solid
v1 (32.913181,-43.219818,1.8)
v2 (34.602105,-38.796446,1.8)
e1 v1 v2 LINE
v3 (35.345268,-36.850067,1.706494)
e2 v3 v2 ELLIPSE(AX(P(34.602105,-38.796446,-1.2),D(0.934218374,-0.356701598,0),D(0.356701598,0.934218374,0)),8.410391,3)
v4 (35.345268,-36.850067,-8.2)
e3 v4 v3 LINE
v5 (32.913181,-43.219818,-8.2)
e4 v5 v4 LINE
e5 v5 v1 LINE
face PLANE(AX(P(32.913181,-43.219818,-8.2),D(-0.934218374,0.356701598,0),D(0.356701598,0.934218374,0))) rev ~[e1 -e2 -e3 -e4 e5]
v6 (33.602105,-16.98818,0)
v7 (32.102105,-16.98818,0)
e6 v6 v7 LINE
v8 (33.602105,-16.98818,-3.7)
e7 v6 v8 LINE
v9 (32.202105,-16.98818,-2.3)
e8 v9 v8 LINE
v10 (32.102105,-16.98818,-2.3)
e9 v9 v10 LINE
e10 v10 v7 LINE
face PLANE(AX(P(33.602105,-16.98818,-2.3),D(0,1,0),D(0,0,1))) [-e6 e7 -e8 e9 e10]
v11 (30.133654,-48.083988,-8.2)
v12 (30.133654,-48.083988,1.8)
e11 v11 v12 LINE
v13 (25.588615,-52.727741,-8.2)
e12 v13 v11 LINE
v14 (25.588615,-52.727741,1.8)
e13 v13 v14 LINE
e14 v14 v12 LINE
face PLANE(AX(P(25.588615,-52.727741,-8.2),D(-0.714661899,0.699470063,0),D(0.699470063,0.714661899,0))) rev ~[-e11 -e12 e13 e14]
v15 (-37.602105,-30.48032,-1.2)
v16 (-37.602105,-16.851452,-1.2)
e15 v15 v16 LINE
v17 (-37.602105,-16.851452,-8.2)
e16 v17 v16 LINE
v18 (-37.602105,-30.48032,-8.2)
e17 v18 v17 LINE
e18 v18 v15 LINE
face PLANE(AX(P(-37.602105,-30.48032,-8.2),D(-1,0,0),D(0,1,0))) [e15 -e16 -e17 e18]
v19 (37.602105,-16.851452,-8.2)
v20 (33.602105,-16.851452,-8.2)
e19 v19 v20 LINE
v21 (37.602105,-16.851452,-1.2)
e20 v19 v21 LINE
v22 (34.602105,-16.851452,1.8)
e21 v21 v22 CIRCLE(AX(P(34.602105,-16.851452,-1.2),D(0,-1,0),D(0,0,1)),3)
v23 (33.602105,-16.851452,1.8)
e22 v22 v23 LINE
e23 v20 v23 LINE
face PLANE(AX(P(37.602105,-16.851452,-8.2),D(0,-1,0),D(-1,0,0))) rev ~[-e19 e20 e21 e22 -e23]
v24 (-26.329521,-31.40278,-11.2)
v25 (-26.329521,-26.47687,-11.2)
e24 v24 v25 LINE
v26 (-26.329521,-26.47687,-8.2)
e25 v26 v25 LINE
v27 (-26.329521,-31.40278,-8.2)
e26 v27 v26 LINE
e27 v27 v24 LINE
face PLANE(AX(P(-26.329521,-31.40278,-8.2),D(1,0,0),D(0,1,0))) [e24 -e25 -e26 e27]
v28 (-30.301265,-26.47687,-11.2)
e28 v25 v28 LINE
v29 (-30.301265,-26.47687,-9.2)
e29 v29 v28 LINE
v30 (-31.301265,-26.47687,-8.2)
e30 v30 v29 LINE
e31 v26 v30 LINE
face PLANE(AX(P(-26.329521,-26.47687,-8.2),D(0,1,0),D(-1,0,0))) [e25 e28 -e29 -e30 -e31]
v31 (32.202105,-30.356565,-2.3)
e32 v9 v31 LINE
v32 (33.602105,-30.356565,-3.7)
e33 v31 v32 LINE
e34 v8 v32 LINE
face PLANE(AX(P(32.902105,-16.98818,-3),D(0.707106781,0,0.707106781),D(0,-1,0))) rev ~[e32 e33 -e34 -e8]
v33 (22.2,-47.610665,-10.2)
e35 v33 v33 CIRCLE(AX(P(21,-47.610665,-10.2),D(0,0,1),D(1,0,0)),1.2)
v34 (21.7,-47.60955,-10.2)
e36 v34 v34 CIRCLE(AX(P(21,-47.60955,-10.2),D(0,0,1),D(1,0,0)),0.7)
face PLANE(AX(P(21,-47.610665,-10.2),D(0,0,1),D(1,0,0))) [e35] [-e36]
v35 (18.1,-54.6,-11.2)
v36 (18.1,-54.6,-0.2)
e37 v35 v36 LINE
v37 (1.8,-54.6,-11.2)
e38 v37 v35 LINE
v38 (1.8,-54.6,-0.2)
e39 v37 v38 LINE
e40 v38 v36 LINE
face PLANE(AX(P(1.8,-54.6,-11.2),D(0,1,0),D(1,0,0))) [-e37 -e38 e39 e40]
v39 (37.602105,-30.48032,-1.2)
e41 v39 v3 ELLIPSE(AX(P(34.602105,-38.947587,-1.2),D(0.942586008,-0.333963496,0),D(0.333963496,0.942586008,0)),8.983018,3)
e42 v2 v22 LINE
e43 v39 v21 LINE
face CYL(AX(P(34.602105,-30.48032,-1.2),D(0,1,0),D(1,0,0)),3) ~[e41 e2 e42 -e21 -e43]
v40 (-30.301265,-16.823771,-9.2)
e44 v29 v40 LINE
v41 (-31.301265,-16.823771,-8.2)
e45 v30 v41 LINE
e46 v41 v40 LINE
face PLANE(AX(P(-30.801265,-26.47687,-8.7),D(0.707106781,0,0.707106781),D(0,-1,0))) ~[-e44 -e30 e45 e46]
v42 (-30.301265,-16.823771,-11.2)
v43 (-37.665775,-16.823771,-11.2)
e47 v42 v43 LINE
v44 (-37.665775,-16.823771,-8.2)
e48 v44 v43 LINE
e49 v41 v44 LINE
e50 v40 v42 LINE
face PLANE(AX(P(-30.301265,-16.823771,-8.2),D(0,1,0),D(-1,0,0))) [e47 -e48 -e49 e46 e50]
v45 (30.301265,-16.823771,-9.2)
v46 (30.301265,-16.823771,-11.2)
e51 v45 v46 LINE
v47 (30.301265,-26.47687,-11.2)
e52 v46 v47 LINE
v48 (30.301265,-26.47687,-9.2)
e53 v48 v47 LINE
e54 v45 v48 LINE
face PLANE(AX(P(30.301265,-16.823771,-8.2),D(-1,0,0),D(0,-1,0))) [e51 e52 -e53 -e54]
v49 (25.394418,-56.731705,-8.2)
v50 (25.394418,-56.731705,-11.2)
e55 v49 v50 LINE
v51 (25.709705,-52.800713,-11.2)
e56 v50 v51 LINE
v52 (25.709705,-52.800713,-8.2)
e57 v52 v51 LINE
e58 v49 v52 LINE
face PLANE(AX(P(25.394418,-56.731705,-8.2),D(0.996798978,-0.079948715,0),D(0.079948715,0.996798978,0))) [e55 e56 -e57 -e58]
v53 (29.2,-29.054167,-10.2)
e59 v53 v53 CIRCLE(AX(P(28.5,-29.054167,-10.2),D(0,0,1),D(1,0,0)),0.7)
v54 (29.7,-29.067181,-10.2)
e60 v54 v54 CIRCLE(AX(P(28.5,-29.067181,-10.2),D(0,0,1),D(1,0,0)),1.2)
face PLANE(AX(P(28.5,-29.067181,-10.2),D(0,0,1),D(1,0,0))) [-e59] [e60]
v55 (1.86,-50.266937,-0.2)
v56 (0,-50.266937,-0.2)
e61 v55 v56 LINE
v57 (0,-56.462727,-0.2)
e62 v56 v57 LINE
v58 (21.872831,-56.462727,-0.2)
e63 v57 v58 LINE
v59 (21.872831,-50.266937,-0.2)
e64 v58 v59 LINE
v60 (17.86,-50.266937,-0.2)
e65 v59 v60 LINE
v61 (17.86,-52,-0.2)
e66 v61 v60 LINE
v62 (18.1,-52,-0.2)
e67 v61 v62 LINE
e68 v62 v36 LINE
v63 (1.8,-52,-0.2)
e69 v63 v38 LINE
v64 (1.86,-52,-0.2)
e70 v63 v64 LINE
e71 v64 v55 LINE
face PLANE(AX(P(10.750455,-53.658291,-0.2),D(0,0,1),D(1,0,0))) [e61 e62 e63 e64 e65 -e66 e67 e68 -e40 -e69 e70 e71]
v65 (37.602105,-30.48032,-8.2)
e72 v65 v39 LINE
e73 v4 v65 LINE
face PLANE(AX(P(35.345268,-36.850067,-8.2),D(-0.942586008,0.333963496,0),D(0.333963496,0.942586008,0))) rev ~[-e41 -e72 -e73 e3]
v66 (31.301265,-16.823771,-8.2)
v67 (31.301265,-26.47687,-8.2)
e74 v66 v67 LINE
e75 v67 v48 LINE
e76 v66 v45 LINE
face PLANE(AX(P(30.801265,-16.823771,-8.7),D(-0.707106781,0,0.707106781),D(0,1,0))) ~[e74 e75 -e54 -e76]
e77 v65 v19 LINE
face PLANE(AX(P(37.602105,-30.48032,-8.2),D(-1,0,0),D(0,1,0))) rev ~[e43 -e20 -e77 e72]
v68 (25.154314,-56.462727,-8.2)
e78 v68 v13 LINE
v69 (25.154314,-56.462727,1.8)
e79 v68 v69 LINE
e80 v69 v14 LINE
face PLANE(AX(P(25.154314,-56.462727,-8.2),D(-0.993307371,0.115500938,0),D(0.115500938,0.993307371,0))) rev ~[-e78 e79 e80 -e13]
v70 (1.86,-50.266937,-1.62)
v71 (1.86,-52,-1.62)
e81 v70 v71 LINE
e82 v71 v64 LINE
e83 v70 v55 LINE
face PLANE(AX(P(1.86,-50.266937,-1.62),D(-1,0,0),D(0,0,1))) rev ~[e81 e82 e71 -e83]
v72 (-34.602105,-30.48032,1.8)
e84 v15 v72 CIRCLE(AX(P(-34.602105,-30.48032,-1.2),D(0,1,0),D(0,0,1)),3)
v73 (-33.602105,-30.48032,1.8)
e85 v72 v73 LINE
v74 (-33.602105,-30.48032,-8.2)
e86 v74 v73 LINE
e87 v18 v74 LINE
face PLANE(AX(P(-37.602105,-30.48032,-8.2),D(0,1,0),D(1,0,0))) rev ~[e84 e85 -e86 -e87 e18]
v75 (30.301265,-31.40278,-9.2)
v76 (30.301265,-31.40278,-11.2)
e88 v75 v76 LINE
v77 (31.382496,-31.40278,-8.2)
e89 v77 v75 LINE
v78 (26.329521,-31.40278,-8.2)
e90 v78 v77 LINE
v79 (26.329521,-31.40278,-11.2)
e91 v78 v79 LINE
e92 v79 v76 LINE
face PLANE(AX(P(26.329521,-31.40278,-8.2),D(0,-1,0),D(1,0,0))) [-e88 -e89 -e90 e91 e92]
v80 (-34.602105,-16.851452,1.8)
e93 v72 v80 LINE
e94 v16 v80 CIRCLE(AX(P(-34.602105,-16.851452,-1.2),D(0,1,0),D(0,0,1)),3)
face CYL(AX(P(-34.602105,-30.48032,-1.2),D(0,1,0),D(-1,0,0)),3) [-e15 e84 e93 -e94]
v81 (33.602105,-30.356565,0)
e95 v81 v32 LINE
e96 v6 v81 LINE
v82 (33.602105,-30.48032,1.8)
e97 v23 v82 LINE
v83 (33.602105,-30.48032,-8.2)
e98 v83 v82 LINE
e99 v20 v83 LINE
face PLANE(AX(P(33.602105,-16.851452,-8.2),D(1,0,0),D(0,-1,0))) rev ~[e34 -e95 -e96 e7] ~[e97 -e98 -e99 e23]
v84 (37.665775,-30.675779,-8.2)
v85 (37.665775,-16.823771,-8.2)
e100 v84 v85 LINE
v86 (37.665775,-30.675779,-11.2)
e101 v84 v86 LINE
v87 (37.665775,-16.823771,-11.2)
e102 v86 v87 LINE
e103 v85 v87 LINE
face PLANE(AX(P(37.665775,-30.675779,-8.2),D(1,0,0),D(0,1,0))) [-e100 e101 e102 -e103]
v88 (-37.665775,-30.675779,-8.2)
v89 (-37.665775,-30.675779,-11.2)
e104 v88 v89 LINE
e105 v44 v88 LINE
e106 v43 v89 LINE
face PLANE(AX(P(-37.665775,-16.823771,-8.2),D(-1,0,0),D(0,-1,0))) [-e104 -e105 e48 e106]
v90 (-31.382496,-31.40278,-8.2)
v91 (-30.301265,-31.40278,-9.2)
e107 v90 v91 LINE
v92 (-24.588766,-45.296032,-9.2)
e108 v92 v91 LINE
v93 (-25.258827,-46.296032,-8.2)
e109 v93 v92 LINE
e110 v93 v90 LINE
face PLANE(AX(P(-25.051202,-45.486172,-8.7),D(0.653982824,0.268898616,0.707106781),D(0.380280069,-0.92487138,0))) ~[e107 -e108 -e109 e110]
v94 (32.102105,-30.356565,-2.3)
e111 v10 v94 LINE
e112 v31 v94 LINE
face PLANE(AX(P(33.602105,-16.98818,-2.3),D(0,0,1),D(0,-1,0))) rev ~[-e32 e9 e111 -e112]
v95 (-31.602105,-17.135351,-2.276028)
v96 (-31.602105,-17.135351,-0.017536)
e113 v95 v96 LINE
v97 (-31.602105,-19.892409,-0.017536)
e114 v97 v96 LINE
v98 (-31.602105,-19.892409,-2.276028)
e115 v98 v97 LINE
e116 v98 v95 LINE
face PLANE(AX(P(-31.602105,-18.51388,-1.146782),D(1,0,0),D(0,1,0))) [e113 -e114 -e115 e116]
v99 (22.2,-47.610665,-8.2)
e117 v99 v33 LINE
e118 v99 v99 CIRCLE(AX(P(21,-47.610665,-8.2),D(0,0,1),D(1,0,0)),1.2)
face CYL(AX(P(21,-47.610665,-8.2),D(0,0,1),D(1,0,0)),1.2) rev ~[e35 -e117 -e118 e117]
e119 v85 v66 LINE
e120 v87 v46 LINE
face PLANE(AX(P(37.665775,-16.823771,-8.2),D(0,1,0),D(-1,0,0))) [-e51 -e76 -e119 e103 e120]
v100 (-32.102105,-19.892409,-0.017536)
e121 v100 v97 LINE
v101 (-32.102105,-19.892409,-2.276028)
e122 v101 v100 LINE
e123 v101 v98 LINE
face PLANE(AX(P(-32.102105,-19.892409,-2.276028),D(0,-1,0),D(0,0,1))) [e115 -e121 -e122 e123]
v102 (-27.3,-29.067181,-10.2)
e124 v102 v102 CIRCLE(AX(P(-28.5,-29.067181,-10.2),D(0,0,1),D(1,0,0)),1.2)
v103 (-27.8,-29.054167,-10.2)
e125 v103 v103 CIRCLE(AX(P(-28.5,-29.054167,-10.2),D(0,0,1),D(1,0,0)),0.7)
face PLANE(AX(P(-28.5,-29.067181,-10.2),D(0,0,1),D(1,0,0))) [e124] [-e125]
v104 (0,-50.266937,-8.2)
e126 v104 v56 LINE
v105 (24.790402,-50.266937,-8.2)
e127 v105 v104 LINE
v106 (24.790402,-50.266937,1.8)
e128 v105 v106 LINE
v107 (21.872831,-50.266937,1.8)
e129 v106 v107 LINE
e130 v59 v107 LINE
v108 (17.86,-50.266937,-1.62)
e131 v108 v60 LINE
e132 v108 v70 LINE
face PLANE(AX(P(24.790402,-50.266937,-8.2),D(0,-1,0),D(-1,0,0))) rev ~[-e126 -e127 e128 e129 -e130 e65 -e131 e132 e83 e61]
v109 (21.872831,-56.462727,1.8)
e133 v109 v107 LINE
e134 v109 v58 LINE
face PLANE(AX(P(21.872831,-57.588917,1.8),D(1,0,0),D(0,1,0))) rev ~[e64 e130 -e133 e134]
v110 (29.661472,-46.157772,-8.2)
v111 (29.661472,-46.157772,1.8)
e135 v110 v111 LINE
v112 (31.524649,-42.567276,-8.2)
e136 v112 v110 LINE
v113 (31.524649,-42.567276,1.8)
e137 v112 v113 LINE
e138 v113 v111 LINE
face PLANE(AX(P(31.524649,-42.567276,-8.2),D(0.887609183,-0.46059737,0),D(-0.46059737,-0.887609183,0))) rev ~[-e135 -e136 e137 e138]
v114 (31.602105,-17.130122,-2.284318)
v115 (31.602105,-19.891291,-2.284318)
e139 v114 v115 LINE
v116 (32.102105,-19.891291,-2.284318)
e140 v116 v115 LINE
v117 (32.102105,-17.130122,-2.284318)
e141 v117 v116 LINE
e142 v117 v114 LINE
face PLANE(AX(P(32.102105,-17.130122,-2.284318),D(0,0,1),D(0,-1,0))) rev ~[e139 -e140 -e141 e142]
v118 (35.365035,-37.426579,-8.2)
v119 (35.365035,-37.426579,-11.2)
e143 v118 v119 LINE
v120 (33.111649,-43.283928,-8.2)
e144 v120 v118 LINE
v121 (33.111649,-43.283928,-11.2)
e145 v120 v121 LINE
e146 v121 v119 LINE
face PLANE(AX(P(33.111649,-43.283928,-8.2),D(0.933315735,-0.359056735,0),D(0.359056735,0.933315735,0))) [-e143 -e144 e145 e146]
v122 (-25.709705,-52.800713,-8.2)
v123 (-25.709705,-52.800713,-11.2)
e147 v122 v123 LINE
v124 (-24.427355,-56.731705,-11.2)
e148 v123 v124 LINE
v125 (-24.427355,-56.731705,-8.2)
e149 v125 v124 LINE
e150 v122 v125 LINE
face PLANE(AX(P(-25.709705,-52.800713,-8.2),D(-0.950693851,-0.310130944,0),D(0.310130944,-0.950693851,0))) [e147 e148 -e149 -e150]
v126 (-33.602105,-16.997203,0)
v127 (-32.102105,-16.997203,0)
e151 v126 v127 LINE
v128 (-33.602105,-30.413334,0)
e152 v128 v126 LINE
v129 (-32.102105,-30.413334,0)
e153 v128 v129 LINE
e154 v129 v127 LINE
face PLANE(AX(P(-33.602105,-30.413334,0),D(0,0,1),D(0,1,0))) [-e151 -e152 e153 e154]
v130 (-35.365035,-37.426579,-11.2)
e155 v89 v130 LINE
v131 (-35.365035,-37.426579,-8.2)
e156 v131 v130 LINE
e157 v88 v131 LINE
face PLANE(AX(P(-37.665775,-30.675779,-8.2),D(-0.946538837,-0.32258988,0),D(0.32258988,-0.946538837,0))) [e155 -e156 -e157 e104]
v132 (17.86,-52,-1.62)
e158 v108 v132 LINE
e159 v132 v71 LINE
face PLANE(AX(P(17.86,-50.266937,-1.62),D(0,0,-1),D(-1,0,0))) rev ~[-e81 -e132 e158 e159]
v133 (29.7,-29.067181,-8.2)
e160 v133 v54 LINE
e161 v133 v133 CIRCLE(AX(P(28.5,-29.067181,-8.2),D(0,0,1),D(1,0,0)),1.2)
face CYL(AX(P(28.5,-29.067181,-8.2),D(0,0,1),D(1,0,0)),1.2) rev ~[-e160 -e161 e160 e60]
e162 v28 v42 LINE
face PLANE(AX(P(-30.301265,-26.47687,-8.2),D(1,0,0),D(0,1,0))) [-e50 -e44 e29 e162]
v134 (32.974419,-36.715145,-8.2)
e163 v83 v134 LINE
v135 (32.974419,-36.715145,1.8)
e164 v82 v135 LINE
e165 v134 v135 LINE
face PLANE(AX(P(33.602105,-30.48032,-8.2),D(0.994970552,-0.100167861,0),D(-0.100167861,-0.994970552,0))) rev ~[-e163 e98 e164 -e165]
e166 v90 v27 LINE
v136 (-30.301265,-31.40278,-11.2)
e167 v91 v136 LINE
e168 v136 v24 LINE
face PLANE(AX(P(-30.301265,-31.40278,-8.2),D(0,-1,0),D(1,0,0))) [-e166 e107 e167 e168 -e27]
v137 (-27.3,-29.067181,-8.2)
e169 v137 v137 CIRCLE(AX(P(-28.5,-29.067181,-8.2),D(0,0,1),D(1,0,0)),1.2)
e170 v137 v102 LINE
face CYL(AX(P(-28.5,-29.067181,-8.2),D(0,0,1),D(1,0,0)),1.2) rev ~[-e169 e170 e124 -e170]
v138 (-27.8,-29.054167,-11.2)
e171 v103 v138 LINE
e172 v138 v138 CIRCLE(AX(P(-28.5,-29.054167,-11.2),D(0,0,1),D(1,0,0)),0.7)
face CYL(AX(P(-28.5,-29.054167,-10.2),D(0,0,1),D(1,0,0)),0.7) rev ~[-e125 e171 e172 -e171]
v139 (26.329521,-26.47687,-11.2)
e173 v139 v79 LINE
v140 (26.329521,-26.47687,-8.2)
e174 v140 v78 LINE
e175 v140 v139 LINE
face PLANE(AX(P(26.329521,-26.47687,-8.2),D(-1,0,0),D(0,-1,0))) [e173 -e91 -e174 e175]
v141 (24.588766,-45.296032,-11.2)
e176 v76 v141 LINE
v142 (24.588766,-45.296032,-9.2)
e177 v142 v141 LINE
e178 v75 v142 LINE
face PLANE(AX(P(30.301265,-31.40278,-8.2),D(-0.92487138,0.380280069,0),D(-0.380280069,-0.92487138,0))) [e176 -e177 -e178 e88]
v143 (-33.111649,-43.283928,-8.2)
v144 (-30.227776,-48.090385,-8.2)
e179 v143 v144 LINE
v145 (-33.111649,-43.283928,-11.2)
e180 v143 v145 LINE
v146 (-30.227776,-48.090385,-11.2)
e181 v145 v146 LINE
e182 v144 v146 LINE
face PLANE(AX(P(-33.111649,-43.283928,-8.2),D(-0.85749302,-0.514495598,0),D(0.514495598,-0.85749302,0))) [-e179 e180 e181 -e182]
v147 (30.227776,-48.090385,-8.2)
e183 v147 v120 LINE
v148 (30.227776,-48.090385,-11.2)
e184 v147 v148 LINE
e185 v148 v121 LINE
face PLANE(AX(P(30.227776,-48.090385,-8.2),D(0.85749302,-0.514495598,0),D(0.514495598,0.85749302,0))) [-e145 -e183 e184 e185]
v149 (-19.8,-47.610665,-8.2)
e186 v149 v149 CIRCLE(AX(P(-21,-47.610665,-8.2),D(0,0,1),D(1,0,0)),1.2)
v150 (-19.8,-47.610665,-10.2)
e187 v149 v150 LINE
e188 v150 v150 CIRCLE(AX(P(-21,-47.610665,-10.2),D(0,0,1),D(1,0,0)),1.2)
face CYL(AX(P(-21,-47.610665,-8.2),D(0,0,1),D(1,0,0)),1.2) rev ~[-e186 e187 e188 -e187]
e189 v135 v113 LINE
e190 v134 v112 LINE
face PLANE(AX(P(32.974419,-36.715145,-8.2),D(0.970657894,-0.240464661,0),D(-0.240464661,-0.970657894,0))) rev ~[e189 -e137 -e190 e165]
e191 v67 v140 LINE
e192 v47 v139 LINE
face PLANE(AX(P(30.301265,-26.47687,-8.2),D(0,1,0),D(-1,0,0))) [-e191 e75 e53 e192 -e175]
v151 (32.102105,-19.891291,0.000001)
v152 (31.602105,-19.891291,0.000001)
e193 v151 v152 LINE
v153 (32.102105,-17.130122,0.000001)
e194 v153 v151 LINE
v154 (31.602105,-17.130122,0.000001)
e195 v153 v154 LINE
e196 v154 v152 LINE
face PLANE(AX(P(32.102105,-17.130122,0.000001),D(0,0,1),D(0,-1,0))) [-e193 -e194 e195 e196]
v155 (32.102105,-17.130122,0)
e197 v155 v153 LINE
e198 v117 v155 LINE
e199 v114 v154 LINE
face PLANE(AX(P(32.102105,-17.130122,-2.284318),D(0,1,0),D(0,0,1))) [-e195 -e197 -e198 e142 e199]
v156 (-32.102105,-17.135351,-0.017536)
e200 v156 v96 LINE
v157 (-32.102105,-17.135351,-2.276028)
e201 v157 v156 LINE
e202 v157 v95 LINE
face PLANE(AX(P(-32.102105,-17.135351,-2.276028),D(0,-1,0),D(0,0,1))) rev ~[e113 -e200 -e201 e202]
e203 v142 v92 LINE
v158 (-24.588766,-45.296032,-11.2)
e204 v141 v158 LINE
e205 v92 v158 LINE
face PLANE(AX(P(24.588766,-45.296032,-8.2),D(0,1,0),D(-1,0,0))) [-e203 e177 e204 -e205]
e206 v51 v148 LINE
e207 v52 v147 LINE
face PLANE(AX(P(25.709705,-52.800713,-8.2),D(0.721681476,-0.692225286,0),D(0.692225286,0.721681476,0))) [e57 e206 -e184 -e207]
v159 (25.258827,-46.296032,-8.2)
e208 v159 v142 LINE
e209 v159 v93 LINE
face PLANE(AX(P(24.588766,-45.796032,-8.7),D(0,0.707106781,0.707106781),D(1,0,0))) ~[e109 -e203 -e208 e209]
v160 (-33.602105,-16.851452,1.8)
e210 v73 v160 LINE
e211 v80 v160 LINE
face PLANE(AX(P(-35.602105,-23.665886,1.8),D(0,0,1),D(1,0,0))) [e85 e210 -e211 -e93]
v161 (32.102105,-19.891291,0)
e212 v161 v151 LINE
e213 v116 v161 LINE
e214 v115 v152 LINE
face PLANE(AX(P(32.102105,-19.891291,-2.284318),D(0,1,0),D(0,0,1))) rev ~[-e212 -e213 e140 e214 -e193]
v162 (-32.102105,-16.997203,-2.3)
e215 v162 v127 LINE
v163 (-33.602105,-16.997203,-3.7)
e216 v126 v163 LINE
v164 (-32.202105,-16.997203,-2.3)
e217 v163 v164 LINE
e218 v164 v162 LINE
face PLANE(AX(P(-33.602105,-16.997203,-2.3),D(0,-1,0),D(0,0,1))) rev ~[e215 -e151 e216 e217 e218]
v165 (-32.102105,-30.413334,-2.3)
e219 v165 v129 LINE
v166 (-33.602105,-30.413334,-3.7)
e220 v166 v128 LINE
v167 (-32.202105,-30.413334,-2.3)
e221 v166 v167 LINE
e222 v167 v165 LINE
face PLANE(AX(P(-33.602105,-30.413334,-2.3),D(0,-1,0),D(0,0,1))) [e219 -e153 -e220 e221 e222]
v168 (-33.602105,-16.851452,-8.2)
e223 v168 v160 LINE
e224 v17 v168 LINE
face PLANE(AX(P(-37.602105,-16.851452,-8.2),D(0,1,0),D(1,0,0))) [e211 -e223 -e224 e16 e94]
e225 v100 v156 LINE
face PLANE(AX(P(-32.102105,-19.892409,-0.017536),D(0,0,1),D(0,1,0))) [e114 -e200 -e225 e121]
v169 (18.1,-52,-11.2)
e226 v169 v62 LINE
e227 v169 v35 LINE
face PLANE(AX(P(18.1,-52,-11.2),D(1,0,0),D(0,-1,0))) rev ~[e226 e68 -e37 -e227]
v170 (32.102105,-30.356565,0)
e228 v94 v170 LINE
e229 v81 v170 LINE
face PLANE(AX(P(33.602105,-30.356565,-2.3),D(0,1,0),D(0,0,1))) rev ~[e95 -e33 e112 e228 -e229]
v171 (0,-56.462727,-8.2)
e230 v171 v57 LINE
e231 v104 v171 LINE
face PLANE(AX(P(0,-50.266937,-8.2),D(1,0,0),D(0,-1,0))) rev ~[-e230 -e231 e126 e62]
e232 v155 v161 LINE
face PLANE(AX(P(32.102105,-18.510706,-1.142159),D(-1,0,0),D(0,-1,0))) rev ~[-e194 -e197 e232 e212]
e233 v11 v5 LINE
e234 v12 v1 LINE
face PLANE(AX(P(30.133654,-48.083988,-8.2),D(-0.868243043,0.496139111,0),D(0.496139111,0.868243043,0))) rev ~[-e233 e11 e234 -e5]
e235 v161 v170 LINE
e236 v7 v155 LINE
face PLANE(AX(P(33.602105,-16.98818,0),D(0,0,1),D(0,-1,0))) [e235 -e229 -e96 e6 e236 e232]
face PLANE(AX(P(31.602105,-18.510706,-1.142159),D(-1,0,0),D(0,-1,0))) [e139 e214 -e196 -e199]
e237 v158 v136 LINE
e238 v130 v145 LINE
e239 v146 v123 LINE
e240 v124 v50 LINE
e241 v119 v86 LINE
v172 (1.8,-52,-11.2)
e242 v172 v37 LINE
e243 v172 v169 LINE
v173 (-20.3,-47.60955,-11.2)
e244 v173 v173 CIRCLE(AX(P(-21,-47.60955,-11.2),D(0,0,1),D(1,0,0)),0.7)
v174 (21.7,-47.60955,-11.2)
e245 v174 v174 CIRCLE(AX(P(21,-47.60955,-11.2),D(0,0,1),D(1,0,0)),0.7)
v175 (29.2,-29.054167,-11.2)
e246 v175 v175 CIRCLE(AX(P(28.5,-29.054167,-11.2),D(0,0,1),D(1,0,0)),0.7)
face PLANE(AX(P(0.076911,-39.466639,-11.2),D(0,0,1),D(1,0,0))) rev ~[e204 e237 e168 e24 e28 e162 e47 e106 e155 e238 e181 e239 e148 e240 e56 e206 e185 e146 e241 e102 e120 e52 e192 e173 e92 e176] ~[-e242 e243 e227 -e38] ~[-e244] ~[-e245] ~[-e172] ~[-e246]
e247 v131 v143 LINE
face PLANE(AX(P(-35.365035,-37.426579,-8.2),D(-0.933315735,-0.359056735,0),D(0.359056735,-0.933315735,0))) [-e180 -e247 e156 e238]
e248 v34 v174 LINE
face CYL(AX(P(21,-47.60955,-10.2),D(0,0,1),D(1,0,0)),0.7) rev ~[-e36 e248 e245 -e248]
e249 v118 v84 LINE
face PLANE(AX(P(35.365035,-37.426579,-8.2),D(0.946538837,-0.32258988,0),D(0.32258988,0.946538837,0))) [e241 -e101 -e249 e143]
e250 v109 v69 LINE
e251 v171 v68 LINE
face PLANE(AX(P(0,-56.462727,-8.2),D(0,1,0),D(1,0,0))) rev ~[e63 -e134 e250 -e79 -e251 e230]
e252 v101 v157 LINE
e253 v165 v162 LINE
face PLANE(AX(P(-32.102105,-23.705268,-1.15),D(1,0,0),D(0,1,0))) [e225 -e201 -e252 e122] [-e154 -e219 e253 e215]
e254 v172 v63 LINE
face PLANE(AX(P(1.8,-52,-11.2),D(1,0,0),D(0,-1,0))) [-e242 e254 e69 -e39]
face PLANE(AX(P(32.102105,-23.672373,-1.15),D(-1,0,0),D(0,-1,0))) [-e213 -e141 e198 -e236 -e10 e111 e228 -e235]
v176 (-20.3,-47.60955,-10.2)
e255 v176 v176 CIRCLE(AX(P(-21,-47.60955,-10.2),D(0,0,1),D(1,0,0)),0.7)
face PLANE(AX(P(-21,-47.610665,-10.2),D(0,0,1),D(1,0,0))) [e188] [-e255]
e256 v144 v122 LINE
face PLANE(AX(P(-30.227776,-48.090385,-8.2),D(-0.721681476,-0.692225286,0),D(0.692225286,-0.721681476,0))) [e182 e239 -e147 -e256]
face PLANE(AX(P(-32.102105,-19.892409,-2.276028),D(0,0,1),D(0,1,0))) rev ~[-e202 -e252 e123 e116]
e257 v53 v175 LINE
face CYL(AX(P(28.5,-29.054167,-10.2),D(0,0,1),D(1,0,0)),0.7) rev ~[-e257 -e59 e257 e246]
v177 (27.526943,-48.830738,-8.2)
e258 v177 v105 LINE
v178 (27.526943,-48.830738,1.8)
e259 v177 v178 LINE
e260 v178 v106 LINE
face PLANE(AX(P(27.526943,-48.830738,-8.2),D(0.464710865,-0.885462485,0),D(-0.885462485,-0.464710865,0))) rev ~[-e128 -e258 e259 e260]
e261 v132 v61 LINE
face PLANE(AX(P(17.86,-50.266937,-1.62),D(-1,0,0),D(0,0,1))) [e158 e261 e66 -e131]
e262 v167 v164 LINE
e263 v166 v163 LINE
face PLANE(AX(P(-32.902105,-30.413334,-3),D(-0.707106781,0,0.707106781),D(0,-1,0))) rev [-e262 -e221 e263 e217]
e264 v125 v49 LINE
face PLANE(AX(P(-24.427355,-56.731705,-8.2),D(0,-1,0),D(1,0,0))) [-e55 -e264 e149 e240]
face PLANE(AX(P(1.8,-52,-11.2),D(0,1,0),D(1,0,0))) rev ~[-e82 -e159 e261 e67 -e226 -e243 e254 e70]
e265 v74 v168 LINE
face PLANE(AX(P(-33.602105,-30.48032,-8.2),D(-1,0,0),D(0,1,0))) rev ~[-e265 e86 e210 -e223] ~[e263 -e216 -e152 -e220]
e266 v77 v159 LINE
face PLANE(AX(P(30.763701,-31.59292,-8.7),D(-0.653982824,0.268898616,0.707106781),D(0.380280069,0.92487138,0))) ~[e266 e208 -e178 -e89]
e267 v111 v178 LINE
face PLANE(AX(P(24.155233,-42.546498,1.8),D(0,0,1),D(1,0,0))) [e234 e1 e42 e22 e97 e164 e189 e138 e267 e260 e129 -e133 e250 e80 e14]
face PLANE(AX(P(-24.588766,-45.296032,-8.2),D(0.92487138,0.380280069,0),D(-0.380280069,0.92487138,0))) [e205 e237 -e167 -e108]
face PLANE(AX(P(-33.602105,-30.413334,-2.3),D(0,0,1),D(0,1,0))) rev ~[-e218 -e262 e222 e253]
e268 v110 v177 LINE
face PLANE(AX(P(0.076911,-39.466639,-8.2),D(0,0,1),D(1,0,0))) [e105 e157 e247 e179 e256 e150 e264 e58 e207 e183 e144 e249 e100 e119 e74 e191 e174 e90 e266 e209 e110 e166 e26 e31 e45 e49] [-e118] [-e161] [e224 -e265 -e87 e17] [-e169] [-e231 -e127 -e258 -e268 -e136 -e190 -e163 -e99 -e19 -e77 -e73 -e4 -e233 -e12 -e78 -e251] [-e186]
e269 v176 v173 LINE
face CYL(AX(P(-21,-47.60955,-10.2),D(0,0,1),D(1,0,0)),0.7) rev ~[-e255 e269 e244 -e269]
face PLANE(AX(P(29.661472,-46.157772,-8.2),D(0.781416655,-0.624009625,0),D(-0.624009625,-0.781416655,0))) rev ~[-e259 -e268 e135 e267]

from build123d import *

# Parameters (mm, degrees)
PAD038_DEPTH    = 3
SKETCH068_W     = 4
SKETCH068_H     = 13.628868
PAD039_DEPTH    = 10
SKETCH070_W     = 16.3
SKETCH070_H     = 2.6
POCKET031_DEPTH = 11
SKETCH071_W     = 16
SKETCH071_H     = 2.72
POCKET032_DEPTH = 4
SKETCH078_W     = 22.244752
SKETCH078_H     = 7.861252
POCKET037_DEPTH = 2
SKETCH081_W     = 13.416131
SKETCH081_H     = 2.3
PAD042_DEPTH    = 1.5
SKETCH082_W     = 13.368385
SKETCH082_H     = 2.3
PAD043_DEPTH    = 1.5
SKETCH083_W     = 2.761169
SKETCH083_H     = 2.284319
PAD044_DEPTH    = 0.5
SKETCH084_W     = 2.757059
SKETCH084_H     = 2.258492
PAD045_DEPTH    = 0.5
CHAMFER014_SIZE = 1.4
FILLET012_R     = 3
SKETCH086_R     = 1.2
POCKET038_DEPTH = 2
SKETCH087_R     = 0.7
POCKET039_DEPTH = 5
CHAMFER017_SIZE = 1


with BuildPart() as part:
    # Sketch069 → Pad038 (new body)
    with BuildSketch(Plane.XY.offset(-8.2)):
        Polygon((24.588766, -45.296032), (-24.588766, -45.296032), (-30.301265, -31.40278), (-26.329521, -31.40278), (-26.329521, -26.47687), (-30.301265, -26.47687), (-30.301265, -16.823771), (-37.665775, -16.823771), (-37.665775, -30.675779), (-35.365035, -37.426579), (-33.111649, -43.283928), (-30.227776, -48.090385), (-25.709705, -52.800713), (-24.427355, -56.731705), (25.394418, -56.731705), (25.709705, -52.800713), (30.227776, -48.090385), (33.111649, -43.283928), (35.365035, -37.426579), (37.665775, -30.675779), (37.665775, -16.823771), (30.301265, -16.823771), (30.301265, -26.47687), (26.329521, -26.47687), (26.329521, -31.40278), (30.301265, -31.40278), align=None)
    extrude(amount=-PAD038_DEPTH)

    # Sketch068 → Pad039 (join)
    with BuildSketch(Plane.XY.offset(-8.2)):
        Polygon((33.602105, -16.851452), (33.602105, -30.48032), (32.974419, -36.715145), (31.524649, -42.567276), (29.661472, -46.157772), (27.526943, -48.830738), (24.790402, -50.266937), (0, -50.266937), (0, -56.462727), (25.154314, -56.462727), (25.588615, -52.727741), (30.133654, -48.083988), (32.913181, -43.219818), (35.345268, -36.850067), (37.602105, -30.48032), (37.602105, -16.851452), align=None)
        with Locations((-35.602105, -23.665886)):
            Rectangle(SKETCH068_W, SKETCH068_H)
    extrude(amount=PAD039_DEPTH)

    # Sketch070 (on Face5 of Pad039) → Pocket031 (cut)
    with BuildSketch(Plane(origin=(0, 0, -11.2), x_dir=(1, 0, 0), z_dir=(0, 0, -1))):
        with Locations((9.95, 53.3)):
            Rectangle(SKETCH070_W, SKETCH070_H)
    extrude(amount=-POCKET031_DEPTH, mode=Mode.SUBTRACT)

    # Sketch071 (on Face35 of Pocket031) → Pocket032 (cut)
    with BuildSketch(Plane(origin=(0, -50.266937, 0), x_dir=(-1, 0, 0), z_dir=(0, 1, 0))):
        with Locations((-9.86, -0.26)):
            Rectangle(SKETCH071_W, SKETCH071_H)
    extrude(amount=-POCKET032_DEPTH, mode=Mode.SUBTRACT)

    # Sketch078 (on Face53 of Pocket032) → Pocket037 (cut)
    with BuildSketch(Plane.XY.offset(1.8)):
        with Locations((10.750455, -53.658291)):
            Rectangle(SKETCH078_W, SKETCH078_H)
    extrude(amount=-POCKET037_DEPTH, mode=Mode.SUBTRACT)

    # Sketch081 (on Face45 of Pocket037) → Pad042 (join)
    with BuildSketch(Plane.YZ.offset(-33.602105)):
        with Locations((-23.705268, -1.15)):
            Rectangle(SKETCH081_W, SKETCH081_H)
    extrude(amount=PAD042_DEPTH)

    # Sketch082 (on Face29 of Pad042) → Pad043 (join)
    with BuildSketch(Plane(origin=(33.602105, 0, 0), x_dir=(0, -1, 0), z_dir=(-1, 0, 0))):
        with Locations((23.672373, -1.15)):
            Rectangle(SKETCH082_W, SKETCH082_H)
    extrude(amount=PAD043_DEPTH)

    # Sketch083 (on Face68 of Pad043) → Pad044 (join)
    with BuildSketch(Plane(origin=(32.102105, 0, 0), x_dir=(0, -1, 0), z_dir=(-1, 0, 0))):
        with Locations((18.510706, -1.142159)):
            Rectangle(SKETCH083_W, SKETCH083_H)
    extrude(amount=PAD044_DEPTH)

    # Sketch084 (on Face70 of Pad044) → Pad045 (join)
    with BuildSketch(Plane.YZ.offset(-32.102105)):
        with Locations((-18.51388, -1.146782)):
            Rectangle(SKETCH084_W, SKETCH084_H)
    extrude(amount=PAD045_DEPTH)

    # Chamfer014
    chamfer014_edges = [part.edges().sort_by_distance(p)[0] for p in [
        (33.602105, -23.672373, -2.3),
        (-33.602105, -23.705268, -2.3),
    ]]
    chamfer(chamfer014_edges, length=CHAMFER014_SIZE)

    # Fillet012
    fillet012_edges = [part.edges().sort_by_distance(p)[0] for p in [
        (37.602105, -23.665886, 1.8),
        (-37.602105, -23.665886, 1.8),
    ]]
    fillet(fillet012_edges, radius=FILLET012_R)

    # Sketch086 (on Face4 of Fillet012) → Pocket038 (cut)
    with BuildSketch(Plane.XY.offset(-8.2)):
        with Locations((-28.5, -29.067181)):
            Circle(SKETCH086_R)
        with Locations((28.5, -29.067181)):
            Circle(SKETCH086_R)
        with Locations((-21, -47.610665)):
            Circle(SKETCH086_R)
        with Locations((21, -47.610665)):
            Circle(SKETCH086_R)
    extrude(amount=-POCKET038_DEPTH, mode=Mode.SUBTRACT)

    # Sketch087 (on Face63 of Pocket038) → Pocket039 (cut)
    with BuildSketch(Plane.XY.offset(-10.2)):
        with Locations((-28.5, -29.054167)):
            Circle(SKETCH087_R)
        with Locations((28.5, -29.054167)):
            Circle(SKETCH087_R)
        with Locations((-21, -47.60955)):
            Circle(SKETCH087_R)
        with Locations((21, -47.60955)):
            Circle(SKETCH087_R)
    extrude(amount=-POCKET039_DEPTH, mode=Mode.SUBTRACT)

    # Chamfer017
    chamfer017_edges = [part.edges().sort_by_distance(p)[0] for p in [
        (30.301265, -21.65032, -8.2),
        (27.445016, -38.349406, -8.2),
        (0, -45.296032, -8.2),
        (-27.445016, -38.349406, -8.2),
        (-30.301265, -21.65032, -8.2),
    ]]
    chamfer(chamfer017_edges, length=CHAMFER017_SIZE)


solid = part.part
